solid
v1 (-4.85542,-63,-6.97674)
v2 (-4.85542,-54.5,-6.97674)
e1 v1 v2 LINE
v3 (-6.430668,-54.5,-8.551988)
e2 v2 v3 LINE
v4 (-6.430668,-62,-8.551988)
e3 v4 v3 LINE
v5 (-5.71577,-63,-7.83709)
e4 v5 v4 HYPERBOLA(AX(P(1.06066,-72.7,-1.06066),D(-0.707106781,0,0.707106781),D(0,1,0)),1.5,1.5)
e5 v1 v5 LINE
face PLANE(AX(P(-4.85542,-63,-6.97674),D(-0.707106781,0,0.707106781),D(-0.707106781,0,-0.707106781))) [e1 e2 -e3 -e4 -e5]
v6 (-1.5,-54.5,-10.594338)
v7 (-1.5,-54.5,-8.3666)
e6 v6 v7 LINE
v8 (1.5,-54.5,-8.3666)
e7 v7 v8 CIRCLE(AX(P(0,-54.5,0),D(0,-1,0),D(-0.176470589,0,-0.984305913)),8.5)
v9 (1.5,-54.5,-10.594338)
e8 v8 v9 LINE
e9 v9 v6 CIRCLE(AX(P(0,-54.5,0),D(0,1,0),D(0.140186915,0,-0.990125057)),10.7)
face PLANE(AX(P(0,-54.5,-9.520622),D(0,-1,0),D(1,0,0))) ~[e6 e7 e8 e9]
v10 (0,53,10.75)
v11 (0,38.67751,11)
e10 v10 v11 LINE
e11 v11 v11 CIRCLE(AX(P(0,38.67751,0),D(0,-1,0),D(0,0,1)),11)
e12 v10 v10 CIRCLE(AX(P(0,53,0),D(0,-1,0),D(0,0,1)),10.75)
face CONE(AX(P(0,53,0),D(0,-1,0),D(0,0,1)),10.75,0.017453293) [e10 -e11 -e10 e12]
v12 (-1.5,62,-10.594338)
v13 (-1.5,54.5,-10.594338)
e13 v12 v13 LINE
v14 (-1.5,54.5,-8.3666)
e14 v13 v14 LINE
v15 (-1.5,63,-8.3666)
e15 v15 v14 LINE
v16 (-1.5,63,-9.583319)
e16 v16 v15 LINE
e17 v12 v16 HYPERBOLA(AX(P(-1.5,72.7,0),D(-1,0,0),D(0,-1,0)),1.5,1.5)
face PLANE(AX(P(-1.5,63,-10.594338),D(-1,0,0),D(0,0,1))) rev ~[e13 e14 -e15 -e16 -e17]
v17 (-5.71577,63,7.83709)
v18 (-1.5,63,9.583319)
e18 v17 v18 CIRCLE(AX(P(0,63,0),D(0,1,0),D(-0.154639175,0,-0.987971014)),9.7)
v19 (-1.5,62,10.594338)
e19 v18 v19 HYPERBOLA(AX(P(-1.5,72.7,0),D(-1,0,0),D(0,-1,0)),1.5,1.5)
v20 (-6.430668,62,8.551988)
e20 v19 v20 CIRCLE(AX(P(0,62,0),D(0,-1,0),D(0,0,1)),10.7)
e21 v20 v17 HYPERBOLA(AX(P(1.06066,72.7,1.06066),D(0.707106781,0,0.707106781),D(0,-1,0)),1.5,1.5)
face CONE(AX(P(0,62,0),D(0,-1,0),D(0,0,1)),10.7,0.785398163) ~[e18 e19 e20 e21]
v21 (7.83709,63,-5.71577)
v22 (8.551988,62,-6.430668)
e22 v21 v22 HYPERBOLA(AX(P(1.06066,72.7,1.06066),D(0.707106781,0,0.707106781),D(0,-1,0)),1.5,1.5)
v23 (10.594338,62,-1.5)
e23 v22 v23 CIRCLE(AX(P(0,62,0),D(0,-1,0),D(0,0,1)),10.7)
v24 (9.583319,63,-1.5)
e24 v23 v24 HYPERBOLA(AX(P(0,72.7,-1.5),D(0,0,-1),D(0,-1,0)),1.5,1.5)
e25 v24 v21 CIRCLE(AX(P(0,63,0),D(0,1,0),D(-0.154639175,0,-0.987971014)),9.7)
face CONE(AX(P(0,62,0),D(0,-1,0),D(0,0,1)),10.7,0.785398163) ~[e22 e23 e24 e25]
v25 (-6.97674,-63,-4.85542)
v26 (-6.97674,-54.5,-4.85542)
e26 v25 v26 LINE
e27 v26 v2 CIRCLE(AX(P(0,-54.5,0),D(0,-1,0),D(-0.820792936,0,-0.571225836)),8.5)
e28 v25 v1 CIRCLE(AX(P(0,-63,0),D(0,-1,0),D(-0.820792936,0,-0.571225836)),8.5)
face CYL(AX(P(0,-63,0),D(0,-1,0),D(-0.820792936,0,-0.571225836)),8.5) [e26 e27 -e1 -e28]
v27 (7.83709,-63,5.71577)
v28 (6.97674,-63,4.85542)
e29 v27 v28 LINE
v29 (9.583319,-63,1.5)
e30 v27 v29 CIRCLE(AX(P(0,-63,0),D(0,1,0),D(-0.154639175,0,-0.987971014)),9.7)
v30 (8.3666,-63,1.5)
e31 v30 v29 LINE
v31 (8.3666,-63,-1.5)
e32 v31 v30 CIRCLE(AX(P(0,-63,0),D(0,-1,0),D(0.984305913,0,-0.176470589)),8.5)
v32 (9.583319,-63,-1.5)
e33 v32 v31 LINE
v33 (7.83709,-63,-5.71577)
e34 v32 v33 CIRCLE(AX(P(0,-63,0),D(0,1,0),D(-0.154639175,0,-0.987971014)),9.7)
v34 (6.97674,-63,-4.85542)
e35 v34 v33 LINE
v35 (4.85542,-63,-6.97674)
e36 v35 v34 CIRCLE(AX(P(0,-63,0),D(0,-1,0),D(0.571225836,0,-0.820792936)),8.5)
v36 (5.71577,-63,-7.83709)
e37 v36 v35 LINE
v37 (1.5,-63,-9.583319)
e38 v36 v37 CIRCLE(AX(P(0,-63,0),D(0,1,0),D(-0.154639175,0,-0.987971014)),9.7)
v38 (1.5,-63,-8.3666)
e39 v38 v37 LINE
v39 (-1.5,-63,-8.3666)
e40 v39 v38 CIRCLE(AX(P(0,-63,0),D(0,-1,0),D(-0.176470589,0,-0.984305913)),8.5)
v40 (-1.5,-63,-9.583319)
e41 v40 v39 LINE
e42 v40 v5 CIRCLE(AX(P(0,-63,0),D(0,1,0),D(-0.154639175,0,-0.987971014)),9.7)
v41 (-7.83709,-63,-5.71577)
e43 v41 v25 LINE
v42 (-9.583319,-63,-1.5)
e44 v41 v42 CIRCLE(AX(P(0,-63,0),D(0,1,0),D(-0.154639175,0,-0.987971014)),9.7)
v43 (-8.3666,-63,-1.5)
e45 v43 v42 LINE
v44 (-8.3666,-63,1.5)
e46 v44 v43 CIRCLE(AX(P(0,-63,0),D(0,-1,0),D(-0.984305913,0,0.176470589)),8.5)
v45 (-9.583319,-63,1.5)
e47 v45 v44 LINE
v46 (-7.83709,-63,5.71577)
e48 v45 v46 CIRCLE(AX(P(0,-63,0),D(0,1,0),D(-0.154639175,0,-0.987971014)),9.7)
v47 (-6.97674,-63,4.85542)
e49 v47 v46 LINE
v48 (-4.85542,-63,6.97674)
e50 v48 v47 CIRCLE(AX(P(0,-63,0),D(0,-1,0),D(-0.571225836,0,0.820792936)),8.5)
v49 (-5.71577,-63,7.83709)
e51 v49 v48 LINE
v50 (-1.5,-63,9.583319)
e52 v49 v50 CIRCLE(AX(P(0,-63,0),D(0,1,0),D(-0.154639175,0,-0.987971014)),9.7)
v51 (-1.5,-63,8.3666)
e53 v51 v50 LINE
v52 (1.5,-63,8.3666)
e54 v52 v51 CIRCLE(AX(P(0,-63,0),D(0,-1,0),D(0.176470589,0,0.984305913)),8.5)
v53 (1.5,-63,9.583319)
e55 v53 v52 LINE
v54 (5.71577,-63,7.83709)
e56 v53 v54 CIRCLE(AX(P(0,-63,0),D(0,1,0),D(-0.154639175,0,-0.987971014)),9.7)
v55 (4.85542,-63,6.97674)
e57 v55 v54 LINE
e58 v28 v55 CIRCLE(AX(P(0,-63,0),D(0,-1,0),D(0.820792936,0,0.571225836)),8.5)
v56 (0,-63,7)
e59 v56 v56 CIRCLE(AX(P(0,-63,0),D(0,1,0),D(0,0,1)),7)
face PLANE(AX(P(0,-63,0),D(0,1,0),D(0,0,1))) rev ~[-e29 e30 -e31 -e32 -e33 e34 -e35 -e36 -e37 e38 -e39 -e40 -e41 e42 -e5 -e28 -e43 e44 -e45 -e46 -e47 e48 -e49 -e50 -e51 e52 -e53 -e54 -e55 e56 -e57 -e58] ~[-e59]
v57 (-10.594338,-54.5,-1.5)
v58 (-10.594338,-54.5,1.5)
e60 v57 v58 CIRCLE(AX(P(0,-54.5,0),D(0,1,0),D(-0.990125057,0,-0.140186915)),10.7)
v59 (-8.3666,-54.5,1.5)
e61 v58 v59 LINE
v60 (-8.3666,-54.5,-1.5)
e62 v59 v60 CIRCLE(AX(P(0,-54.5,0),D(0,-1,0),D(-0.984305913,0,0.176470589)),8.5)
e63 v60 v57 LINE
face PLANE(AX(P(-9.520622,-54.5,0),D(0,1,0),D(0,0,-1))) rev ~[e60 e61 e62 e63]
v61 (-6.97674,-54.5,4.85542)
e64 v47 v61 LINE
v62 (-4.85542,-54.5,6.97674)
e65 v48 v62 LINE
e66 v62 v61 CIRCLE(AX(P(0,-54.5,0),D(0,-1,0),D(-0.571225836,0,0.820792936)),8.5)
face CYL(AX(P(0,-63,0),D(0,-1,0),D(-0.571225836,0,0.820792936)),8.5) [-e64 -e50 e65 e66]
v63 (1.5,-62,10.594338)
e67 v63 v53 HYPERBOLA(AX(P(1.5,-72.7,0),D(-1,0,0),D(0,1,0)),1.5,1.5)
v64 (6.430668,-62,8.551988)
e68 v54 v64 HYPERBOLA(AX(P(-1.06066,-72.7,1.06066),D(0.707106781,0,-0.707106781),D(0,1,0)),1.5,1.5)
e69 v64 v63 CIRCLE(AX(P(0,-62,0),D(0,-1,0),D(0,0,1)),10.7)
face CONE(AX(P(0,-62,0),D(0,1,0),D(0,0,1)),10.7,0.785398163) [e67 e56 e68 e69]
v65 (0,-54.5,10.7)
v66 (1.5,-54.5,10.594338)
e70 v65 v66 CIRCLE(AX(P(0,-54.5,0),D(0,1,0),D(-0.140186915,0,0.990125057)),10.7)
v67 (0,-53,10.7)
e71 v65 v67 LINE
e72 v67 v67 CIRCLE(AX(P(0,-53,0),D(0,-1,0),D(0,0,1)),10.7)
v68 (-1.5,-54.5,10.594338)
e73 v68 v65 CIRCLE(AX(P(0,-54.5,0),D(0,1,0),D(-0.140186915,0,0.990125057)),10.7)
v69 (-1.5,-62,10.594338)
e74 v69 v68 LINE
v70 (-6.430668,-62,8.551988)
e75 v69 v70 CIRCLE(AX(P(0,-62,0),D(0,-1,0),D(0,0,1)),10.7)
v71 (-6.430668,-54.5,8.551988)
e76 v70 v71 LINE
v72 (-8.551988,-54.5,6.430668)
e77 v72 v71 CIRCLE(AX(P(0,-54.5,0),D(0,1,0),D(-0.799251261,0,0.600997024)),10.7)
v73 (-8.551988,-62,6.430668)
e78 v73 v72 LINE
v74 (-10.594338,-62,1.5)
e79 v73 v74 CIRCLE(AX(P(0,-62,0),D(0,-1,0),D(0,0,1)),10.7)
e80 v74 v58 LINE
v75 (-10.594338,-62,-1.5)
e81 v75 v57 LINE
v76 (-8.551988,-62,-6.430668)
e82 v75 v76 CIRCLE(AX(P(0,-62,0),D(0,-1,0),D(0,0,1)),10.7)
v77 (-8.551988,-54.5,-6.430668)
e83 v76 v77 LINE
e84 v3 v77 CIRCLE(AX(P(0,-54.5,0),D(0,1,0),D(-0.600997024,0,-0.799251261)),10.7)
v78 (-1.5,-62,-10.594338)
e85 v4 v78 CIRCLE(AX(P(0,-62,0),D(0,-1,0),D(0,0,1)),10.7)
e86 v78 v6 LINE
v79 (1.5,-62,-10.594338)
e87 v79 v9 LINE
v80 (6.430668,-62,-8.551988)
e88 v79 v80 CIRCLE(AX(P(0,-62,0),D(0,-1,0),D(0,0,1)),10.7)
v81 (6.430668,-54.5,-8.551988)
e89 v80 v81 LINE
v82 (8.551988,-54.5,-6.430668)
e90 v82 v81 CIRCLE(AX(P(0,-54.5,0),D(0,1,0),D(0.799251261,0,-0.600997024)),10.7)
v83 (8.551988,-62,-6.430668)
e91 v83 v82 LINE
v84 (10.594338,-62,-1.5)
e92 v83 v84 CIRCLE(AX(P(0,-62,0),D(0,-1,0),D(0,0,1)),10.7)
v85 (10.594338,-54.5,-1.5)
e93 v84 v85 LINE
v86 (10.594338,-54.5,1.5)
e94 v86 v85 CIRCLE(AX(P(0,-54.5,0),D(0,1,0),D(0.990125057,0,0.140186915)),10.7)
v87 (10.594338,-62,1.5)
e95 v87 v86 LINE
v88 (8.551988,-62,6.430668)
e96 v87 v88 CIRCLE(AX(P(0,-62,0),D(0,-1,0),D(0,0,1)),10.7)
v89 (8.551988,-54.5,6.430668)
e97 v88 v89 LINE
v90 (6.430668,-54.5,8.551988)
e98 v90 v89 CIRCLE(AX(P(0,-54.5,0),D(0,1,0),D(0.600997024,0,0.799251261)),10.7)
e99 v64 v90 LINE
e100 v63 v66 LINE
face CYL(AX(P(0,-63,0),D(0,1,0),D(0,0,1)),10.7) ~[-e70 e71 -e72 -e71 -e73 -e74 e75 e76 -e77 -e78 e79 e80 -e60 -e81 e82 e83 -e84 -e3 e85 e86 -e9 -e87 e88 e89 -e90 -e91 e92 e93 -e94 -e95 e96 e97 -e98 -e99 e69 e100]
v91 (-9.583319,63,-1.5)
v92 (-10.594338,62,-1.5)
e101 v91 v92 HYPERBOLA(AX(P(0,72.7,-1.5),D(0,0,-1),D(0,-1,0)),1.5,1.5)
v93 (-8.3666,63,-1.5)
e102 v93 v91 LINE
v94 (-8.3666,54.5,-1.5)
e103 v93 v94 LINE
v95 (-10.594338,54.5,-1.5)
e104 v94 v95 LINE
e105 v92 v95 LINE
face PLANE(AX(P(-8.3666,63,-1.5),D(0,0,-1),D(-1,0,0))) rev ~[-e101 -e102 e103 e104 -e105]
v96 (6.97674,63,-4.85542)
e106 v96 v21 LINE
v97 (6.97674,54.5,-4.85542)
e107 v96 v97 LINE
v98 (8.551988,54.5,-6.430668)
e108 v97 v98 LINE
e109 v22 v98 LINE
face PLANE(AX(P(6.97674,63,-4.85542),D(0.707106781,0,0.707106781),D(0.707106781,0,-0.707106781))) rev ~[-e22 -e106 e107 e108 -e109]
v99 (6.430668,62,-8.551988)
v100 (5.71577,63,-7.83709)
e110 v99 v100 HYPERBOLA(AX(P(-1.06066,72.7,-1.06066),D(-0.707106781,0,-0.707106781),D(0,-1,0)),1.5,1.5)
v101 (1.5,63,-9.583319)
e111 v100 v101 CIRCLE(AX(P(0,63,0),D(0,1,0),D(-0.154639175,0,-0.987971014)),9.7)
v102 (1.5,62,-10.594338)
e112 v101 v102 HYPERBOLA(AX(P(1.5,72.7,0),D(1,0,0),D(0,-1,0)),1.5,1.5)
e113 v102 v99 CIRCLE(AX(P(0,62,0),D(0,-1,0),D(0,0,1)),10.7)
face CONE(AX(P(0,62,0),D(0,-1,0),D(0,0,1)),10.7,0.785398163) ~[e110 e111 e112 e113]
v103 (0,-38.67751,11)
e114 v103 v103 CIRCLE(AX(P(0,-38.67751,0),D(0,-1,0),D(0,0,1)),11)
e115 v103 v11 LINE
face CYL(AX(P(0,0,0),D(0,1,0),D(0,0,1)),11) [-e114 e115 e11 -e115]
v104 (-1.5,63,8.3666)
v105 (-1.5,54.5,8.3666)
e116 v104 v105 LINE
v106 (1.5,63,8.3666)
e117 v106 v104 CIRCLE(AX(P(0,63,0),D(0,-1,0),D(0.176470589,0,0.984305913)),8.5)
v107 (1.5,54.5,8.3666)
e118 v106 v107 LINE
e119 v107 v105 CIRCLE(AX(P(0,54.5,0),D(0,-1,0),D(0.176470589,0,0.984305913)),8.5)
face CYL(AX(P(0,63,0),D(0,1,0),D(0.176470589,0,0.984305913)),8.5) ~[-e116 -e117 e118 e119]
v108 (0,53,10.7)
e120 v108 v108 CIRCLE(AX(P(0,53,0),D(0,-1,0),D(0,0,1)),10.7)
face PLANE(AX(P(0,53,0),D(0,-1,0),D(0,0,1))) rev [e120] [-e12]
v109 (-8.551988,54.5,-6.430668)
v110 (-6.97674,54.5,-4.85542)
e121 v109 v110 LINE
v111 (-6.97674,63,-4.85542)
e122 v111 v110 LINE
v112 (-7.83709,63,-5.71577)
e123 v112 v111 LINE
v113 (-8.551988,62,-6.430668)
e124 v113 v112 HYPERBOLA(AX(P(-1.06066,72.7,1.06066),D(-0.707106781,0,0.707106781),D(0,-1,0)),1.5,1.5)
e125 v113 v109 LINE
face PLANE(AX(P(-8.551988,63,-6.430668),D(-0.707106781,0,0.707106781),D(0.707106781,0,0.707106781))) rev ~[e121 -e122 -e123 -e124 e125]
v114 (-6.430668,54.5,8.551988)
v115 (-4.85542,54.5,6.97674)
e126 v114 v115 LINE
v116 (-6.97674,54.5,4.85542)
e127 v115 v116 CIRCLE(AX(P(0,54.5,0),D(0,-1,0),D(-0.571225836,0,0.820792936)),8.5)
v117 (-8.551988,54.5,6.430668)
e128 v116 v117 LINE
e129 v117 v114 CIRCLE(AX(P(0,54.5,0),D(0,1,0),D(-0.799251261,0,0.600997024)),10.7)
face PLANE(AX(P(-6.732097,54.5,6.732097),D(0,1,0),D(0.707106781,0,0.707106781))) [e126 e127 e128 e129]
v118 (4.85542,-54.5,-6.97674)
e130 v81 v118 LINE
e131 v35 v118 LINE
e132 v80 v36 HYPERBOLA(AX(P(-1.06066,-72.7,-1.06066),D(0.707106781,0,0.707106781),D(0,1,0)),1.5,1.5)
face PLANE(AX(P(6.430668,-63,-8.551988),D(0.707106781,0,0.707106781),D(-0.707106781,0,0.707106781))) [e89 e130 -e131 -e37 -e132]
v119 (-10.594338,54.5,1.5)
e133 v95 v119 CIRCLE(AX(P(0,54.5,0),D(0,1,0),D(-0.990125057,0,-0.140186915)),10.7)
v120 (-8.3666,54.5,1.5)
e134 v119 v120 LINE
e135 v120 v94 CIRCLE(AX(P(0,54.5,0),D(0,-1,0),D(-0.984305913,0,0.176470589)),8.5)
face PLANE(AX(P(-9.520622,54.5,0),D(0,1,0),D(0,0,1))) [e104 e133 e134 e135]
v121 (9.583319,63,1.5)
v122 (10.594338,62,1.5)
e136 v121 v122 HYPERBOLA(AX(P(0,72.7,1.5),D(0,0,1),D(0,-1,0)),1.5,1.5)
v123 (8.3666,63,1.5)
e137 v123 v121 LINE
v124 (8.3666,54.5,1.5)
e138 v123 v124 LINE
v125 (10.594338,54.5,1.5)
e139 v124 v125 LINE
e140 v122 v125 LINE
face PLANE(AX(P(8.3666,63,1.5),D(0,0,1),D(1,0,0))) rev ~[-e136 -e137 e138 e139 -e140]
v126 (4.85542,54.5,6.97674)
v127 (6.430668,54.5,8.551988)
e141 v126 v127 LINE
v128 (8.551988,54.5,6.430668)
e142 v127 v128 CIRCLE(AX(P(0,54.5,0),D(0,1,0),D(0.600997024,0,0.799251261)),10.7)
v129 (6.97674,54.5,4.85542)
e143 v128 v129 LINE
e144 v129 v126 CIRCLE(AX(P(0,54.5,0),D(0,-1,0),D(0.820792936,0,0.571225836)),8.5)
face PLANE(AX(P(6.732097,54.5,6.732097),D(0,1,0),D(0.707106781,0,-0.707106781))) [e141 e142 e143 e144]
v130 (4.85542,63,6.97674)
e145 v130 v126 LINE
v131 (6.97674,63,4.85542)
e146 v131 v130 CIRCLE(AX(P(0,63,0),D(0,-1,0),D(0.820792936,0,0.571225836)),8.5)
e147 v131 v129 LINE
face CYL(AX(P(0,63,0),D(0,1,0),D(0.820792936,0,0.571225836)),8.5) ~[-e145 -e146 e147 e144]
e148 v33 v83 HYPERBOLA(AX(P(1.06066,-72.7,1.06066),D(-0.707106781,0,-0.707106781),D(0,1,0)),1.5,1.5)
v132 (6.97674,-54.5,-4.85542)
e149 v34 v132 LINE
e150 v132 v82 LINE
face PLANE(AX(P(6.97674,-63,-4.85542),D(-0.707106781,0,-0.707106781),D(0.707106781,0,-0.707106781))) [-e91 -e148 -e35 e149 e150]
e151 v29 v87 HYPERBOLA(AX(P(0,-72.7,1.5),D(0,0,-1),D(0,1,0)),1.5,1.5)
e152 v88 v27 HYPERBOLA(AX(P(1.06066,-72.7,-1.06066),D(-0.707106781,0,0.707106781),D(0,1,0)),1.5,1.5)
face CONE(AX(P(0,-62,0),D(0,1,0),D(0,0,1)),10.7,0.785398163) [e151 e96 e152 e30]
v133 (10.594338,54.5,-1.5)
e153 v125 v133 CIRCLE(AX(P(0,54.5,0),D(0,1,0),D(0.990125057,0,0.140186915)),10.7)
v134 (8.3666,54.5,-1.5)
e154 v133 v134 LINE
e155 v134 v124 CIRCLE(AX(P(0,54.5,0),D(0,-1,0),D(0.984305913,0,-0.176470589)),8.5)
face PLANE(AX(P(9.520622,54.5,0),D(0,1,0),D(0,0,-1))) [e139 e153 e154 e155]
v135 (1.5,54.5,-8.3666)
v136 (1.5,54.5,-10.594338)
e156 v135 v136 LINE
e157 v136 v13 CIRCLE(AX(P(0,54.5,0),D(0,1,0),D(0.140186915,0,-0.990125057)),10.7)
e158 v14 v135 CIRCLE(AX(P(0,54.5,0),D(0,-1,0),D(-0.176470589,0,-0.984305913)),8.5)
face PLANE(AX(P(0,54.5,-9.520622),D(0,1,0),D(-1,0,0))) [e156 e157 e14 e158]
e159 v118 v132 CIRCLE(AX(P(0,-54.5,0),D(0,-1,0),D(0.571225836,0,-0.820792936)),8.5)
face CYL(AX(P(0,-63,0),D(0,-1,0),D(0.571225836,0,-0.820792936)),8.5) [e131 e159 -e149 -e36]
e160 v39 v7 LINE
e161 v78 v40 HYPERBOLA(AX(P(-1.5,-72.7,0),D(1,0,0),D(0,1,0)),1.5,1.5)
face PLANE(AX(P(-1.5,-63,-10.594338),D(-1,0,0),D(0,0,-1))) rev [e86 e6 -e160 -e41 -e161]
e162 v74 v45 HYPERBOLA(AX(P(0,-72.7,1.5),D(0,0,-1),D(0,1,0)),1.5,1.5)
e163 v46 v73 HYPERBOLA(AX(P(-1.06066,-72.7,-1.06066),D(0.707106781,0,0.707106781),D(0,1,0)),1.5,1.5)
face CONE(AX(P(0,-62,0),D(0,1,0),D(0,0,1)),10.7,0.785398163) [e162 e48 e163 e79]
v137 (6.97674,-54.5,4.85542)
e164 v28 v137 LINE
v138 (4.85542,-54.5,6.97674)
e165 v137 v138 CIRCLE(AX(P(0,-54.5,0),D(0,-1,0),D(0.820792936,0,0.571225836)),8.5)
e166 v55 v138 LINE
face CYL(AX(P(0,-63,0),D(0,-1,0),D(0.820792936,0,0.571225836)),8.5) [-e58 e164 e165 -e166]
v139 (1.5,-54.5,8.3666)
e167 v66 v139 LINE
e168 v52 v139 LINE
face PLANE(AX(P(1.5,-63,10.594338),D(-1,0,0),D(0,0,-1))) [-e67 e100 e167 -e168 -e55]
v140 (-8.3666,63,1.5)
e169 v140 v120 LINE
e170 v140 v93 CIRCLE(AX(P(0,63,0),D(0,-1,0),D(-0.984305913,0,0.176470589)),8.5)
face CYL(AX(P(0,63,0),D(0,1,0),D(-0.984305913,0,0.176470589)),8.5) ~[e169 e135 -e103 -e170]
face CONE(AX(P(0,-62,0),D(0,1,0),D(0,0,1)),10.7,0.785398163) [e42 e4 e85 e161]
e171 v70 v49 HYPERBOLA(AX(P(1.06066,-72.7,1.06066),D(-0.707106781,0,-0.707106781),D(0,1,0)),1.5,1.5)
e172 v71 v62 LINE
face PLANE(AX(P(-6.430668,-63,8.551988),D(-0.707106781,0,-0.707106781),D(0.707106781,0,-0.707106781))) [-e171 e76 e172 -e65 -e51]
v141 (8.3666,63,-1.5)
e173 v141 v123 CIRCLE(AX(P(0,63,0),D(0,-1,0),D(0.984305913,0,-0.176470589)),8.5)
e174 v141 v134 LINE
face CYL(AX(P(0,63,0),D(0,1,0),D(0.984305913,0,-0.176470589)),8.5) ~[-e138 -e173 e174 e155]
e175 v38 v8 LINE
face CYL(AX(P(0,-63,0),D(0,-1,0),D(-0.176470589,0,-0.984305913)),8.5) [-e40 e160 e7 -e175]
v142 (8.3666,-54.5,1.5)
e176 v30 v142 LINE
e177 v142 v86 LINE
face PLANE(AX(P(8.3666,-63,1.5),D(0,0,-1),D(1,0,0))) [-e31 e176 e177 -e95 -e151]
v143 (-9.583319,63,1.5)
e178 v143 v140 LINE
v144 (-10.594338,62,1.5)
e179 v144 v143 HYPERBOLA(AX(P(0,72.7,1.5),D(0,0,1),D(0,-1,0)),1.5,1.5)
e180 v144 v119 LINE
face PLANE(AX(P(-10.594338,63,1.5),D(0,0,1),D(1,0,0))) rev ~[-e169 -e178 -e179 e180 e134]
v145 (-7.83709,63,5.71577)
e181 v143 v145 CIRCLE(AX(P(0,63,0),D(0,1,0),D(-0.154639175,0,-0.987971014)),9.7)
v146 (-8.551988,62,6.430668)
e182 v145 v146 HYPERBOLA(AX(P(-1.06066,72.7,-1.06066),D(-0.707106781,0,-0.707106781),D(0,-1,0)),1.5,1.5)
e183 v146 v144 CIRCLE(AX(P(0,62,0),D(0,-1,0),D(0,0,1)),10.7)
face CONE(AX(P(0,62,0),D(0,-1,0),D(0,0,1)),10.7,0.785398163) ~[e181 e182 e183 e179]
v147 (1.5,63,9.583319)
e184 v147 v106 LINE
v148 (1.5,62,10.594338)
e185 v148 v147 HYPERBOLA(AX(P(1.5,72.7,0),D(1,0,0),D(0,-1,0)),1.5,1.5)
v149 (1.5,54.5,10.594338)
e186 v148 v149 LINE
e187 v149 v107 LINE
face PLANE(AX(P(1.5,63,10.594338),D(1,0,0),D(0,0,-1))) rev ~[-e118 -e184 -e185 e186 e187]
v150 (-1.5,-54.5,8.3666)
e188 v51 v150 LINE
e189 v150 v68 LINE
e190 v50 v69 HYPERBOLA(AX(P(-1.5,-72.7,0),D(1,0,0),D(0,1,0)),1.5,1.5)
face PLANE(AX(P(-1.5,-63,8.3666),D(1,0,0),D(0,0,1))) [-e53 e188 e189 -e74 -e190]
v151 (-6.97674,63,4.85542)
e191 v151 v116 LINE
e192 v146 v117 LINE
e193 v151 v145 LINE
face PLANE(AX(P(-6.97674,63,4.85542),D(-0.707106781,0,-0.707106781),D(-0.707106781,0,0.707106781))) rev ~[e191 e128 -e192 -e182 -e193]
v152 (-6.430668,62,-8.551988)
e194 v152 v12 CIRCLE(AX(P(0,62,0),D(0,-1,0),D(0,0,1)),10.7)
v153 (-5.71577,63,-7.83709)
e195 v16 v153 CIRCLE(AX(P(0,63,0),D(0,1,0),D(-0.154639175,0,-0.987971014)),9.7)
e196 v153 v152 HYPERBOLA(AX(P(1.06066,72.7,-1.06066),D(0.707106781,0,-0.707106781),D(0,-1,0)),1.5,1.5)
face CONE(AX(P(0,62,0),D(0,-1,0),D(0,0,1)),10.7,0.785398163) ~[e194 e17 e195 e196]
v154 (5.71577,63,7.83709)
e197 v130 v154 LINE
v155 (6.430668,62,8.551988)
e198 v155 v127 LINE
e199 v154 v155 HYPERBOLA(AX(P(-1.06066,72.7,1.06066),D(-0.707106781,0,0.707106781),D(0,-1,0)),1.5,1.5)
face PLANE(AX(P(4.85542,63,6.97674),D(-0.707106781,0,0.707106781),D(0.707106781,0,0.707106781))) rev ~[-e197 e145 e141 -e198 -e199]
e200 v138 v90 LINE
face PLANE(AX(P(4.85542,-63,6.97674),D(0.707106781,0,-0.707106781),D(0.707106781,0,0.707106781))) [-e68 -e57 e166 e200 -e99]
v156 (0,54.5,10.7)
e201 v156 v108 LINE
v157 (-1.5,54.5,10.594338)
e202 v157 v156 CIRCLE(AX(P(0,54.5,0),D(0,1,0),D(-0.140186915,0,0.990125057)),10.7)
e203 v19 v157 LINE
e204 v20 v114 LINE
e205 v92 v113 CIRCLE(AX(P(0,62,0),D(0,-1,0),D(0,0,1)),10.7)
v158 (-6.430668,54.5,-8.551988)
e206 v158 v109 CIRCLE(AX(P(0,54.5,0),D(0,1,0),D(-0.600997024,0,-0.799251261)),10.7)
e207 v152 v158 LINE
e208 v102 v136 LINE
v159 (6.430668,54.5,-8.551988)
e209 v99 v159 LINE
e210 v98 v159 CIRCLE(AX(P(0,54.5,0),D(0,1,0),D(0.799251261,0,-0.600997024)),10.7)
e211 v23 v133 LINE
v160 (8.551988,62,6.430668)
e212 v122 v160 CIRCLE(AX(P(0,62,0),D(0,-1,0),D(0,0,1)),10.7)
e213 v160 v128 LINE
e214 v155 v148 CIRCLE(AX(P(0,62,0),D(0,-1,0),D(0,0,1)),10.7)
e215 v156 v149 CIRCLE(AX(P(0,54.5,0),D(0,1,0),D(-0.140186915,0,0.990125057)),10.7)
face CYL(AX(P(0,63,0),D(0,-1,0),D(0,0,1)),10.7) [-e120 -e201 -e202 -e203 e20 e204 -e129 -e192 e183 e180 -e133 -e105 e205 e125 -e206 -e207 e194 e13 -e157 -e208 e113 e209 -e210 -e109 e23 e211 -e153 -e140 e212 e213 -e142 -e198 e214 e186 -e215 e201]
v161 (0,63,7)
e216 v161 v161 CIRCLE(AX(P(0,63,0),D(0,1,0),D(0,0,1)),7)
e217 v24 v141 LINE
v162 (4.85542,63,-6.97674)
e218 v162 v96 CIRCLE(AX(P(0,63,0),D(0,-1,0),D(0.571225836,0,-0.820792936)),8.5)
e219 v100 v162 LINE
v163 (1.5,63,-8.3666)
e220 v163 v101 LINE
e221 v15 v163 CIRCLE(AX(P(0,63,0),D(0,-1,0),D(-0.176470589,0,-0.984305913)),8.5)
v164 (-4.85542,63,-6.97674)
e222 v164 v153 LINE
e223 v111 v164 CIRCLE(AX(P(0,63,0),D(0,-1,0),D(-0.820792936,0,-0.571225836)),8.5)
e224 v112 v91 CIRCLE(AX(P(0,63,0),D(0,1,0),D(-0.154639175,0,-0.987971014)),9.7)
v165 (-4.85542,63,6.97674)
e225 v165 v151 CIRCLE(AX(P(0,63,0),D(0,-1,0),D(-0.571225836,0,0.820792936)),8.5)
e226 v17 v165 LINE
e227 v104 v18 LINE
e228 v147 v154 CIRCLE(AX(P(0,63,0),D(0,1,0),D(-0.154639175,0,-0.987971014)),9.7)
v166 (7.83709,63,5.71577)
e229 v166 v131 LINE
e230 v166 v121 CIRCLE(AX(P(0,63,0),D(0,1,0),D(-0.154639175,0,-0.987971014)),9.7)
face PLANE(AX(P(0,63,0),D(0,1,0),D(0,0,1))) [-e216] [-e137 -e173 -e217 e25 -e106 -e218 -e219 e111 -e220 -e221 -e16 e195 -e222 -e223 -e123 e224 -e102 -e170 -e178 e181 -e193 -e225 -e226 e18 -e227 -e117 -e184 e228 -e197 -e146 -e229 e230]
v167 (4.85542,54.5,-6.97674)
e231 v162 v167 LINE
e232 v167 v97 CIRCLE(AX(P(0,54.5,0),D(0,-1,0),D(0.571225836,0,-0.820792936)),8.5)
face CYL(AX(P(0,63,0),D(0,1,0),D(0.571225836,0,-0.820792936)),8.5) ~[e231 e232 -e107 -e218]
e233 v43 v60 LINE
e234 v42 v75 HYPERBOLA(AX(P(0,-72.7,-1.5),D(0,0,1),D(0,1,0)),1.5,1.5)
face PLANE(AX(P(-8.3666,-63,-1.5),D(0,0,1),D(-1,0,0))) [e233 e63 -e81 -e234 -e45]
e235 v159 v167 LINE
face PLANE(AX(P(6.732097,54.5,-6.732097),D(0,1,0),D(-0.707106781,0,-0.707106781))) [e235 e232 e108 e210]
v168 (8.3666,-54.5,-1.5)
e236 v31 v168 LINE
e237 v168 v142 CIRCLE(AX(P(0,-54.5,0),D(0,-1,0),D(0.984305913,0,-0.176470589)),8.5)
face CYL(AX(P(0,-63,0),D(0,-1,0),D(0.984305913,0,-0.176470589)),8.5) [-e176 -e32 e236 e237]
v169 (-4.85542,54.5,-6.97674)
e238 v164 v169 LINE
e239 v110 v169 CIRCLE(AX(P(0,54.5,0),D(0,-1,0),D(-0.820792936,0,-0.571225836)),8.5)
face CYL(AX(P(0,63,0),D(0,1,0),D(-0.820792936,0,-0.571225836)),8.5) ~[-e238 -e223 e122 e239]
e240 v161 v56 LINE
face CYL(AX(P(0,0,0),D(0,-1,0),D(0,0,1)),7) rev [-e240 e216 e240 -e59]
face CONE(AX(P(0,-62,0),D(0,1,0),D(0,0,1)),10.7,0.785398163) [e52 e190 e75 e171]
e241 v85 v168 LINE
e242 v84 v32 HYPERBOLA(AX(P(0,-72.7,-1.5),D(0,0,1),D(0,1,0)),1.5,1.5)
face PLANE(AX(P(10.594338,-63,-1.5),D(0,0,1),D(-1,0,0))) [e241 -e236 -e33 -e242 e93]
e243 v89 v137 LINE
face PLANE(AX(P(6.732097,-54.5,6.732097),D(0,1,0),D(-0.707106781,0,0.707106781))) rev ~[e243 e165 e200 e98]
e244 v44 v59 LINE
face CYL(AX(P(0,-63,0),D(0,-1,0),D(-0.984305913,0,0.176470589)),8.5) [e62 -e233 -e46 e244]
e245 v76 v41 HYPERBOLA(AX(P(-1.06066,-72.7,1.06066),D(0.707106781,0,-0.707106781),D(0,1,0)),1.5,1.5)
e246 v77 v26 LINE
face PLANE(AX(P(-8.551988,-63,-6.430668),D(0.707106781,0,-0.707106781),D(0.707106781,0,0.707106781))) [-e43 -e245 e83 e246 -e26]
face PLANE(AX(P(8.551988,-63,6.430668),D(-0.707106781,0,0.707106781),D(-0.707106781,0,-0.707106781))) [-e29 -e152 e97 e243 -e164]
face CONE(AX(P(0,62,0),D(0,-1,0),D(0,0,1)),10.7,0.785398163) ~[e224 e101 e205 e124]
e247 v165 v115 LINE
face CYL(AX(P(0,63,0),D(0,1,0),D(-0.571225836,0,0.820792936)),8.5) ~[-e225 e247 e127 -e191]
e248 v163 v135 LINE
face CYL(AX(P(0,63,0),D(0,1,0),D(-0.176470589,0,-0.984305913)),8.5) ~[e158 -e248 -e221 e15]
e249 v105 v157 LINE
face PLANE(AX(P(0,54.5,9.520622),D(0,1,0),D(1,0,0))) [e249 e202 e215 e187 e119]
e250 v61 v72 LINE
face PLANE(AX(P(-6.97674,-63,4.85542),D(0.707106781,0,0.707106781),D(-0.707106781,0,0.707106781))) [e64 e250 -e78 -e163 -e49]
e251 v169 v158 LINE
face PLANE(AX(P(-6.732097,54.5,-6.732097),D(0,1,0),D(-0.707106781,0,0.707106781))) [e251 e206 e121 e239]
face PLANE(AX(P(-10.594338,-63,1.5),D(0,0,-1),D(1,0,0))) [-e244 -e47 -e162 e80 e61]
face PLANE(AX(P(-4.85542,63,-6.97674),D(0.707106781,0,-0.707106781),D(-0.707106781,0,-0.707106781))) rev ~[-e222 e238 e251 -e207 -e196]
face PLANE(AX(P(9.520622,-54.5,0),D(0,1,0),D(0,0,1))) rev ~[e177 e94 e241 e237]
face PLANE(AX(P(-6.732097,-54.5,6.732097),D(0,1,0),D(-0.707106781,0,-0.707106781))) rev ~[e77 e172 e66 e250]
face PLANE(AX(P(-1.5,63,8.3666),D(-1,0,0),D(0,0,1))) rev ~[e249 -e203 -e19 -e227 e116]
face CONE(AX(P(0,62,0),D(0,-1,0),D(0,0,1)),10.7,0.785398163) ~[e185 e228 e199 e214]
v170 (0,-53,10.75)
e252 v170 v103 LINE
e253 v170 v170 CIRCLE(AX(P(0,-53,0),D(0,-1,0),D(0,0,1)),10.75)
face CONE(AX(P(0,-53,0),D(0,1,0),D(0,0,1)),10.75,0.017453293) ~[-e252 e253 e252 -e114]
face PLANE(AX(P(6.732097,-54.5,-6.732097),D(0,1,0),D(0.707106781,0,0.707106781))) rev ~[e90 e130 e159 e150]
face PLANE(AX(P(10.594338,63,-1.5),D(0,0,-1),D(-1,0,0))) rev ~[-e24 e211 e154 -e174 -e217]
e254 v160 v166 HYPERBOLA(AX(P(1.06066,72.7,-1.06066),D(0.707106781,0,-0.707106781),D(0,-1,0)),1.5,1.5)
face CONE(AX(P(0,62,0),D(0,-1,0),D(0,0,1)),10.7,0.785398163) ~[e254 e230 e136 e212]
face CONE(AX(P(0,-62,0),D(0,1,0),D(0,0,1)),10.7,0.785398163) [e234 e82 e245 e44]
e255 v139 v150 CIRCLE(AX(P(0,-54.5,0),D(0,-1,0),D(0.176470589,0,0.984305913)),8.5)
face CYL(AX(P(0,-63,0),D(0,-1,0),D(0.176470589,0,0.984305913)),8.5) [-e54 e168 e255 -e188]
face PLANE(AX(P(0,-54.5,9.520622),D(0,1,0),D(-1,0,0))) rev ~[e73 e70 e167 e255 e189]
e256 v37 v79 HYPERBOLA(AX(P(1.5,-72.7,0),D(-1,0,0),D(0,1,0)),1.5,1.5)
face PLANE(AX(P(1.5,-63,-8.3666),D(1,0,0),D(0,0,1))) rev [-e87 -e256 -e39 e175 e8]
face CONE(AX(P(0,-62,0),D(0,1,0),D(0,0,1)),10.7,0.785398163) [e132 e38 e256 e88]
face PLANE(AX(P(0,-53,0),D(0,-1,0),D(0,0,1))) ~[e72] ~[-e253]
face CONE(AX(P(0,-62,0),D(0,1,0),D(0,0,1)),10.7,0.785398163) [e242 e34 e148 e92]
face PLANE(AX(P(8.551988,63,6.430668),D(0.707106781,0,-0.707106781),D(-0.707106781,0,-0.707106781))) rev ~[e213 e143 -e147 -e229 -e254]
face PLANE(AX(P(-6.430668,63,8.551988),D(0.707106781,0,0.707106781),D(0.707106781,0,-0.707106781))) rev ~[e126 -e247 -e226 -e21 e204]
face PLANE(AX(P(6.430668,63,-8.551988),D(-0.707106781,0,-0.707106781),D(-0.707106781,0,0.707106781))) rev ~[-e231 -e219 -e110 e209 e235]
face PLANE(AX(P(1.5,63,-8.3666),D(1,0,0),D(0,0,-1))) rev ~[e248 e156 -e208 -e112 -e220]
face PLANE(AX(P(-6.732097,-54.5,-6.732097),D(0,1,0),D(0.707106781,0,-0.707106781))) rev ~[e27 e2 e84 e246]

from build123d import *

# Parameters (mm, degrees)
ESQUISSE1_R                  = 11
ESQUISSE1_R_2                = 7
EXTRUSION1_DEPTH             = 63
CHANFREIN1_SIZE              = 1
ENL_V_MAT_EXTRU_1_DEPTH      = 8.5
R_P_TITION_CIRCULAIRE1_COUNT = 8
SYM_TRIE1_COPY_1_DEPTH       = 8.5
SYM_TRIE1_COPY_2_DEPTH       = 8.5
SYM_TRIE1_COPY_3_DEPTH       = 8.5
SYM_TRIE1_COPY_4_DEPTH       = 8.5
SYM_TRIE1_COPY_5_DEPTH       = 8.5
SYM_TRIE1_COPY_6_DEPTH       = 8.5
SYM_TRIE1_COPY_7_DEPTH       = 8.5


with BuildPart() as part:
    # Esquisse1 → Extrusion1 (new body, symmetric)
    with BuildSketch(Plane(origin=(0, 0, 0), x_dir=(1, 0, 0), z_dir=(0, 1, 0))):
        with Locations(Location((0, 0, 0), (0, 0, 270))):  # turned: the seam where the file's is
            Circle(ESQUISSE1_R)
        with Locations(Location((0, 0, 0), (0, 0, 270))):  # turned: the seam where the file's is
            Circle(ESQUISSE1_R_2, mode=Mode.SUBTRACT)
    extrude(amount=EXTRUSION1_DEPTH, both=True)

    # Esquisse3 → Enlèvement de matière-Révolution2 (revolve, cut)
    with BuildSketch(Plane.XY, mode=Mode.PRIVATE) as enl_vement_de_mati_re_r_volution2_sk:
        Polygon((10.7, 63), (10.7, 53), (10.75, 53), (11, 38.677509592), (11, 63), align=None)
        Polygon((11, -63), (10.7, -63), (10.7, -53), (10.75, -53), (11, -38.677509592), align=None)
    revolve(enl_vement_de_mati_re_r_volution2_sk.sketch.rotate(Axis((0, 68.024691358, 0), (0, -1, 0)), 90), axis=Axis((0, 68.024691358, 0), (0, -1, 0)), mode=Mode.SUBTRACT)  # turned: the seam where the file's is

    # Chanfrein1
    chanfrein1_edges = [part.edges().sort_by_distance(p)[0] for p in [
        (0, 63, -10.7),
        (0, -63, -10.7),
    ]]
    chamfer(chanfrein1_edges, length=CHANFREIN1_SIZE)

    # Esquisse4 → Enlèv. mat.-Extru.1 (cut)
    with BuildSketch(Plane(origin=(0, 63, 0), x_dir=(-1, 0, 0), z_dir=(0, 1, 0))):
        with BuildLine():
            Line((1.5, -10.594338111), (1.5, -8.366600265))
            ThreePointArc((1.5, -8.366600265), (0, -8.5), (-1.5, -8.366600265))
            Line((-1.5, -8.366600265), (-1.5, -10.594338111))
            ThreePointArc((-1.5, -10.594338111), (0, -10.7), (1.5, -10.594338111))
        make_face()
    enl_v_mat_extru_1 = extrude(amount=-ENL_V_MAT_EXTRU_1_DEPTH, mode=Mode.SUBTRACT)

    # Répétition circulaire1: Enlèv. mat.-Extru.1 ×8 about axis
    r_p_tition_circulaire1_axis = Axis((0, 0, 0), (0, 1, 0))
    for i in range(1, R_P_TITION_CIRCULAIRE1_COUNT):
        add(enl_v_mat_extru_1.rotate(r_p_tition_circulaire1_axis, i * 360 / R_P_TITION_CIRCULAIRE1_COUNT), mode=Mode.SUBTRACT)

    # Symétrie1: Enlèv. mat.-Extru.1 across plane
    add(enl_v_mat_extru_1.mirror(Plane.ZX), mode=Mode.SUBTRACT)

    # Symétrie1 copy 1 sketch → Symétrie1 copy 1 (cut)
    with BuildSketch(Plane(origin=(0, -63, 0), x_dir=(-0.707106781, 0, 0.707106781), z_dir=(0, -1, 0))):
        with BuildLine():
            Line((1.5, 10.594338111), (1.5, 8.366600265))
            ThreePointArc((1.5, 8.366600265), (0, 8.5), (-1.5, 8.366600265))
            Line((-1.5, 8.366600265), (-1.5, 10.594338111))
            ThreePointArc((-1.5, 10.594338111), (0, 10.7), (1.5, 10.594338111))
        make_face()
    extrude(amount=-SYM_TRIE1_COPY_1_DEPTH, mode=Mode.SUBTRACT)

    # Symétrie1 copy 2 sketch → Symétrie1 copy 2 (cut)
    with BuildSketch(Plane(origin=(0, -63, 0), x_dir=(0, 0, 1), z_dir=(0, -1, 0))):
        with BuildLine():
            Line((1.5, 10.594338111), (1.5, 8.366600265))
            ThreePointArc((1.5, 8.366600265), (0, 8.5), (-1.5, 8.366600265))
            Line((-1.5, 8.366600265), (-1.5, 10.594338111))
            ThreePointArc((-1.5, 10.594338111), (0, 10.7), (1.5, 10.594338111))
        make_face()
    extrude(amount=-SYM_TRIE1_COPY_2_DEPTH, mode=Mode.SUBTRACT)

    # Symétrie1 copy 3 sketch → Symétrie1 copy 3 (cut)
    with BuildSketch(Plane(origin=(0, -63, 0), x_dir=(0.707106781, 0, 0.707106781), z_dir=(0, -1, 0))):
        with BuildLine():
            Line((1.5, 10.594338111), (1.5, 8.366600265))
            ThreePointArc((1.5, 8.366600265), (0, 8.5), (-1.5, 8.366600265))
            Line((-1.5, 8.366600265), (-1.5, 10.594338111))
            ThreePointArc((-1.5, 10.594338111), (0, 10.7), (1.5, 10.594338111))
        make_face()
    extrude(amount=-SYM_TRIE1_COPY_3_DEPTH, mode=Mode.SUBTRACT)

    # Symétrie1 copy 4 sketch → Symétrie1 copy 4 (cut)
    with BuildSketch(Plane.XZ.offset(63)):
        with BuildLine():
            Line((1.5, 10.594338111), (1.5, 8.366600265))
            ThreePointArc((1.5, 8.366600265), (0, 8.5), (-1.5, 8.366600265))
            Line((-1.5, 8.366600265), (-1.5, 10.594338111))
            ThreePointArc((-1.5, 10.594338111), (0, 10.7), (1.5, 10.594338111))
        make_face()
    extrude(amount=-SYM_TRIE1_COPY_4_DEPTH, mode=Mode.SUBTRACT)

    # Symétrie1 copy 5 sketch → Symétrie1 copy 5 (cut)
    with BuildSketch(Plane(origin=(0, -63, 0), x_dir=(0.707106781, 0, -0.707106781), z_dir=(0, -1, 0))):
        with BuildLine():
            Line((1.5, 10.594338111), (1.5, 8.366600265))
            ThreePointArc((1.5, 8.366600265), (0, 8.5), (-1.5, 8.366600265))
            Line((-1.5, 8.366600265), (-1.5, 10.594338111))
            ThreePointArc((-1.5, 10.594338111), (0, 10.7), (1.5, 10.594338111))
        make_face()
    extrude(amount=-SYM_TRIE1_COPY_5_DEPTH, mode=Mode.SUBTRACT)

    # Symétrie1 copy 6 sketch → Symétrie1 copy 6 (cut)
    with BuildSketch(Plane(origin=(0, -63, 0), x_dir=(0, 0, -1), z_dir=(0, -1, 0))):
        with BuildLine():
            Line((1.5, 10.594338111), (1.5, 8.366600265))
            ThreePointArc((1.5, 8.366600265), (0, 8.5), (-1.5, 8.366600265))
            Line((-1.5, 8.366600265), (-1.5, 10.594338111))
            ThreePointArc((-1.5, 10.594338111), (0, 10.7), (1.5, 10.594338111))
        make_face()
    extrude(amount=-SYM_TRIE1_COPY_6_DEPTH, mode=Mode.SUBTRACT)

    # Symétrie1 copy 7 sketch → Symétrie1 copy 7 (cut)
    with BuildSketch(Plane(origin=(0, -63, 0), x_dir=(-0.707106781, 0, -0.707106781), z_dir=(0, -1, 0))):
        with BuildLine():
            Line((1.5, 10.594338111), (1.5, 8.366600265))
            ThreePointArc((1.5, 8.366600265), (0, 8.5), (-1.5, 8.366600265))
            Line((-1.5, 8.366600265), (-1.5, 10.594338111))
            ThreePointArc((-1.5, 10.594338111), (0, 10.7), (1.5, 10.594338111))
        make_face()
    extrude(amount=-SYM_TRIE1_COPY_7_DEPTH, mode=Mode.SUBTRACT)


solid = part.part
